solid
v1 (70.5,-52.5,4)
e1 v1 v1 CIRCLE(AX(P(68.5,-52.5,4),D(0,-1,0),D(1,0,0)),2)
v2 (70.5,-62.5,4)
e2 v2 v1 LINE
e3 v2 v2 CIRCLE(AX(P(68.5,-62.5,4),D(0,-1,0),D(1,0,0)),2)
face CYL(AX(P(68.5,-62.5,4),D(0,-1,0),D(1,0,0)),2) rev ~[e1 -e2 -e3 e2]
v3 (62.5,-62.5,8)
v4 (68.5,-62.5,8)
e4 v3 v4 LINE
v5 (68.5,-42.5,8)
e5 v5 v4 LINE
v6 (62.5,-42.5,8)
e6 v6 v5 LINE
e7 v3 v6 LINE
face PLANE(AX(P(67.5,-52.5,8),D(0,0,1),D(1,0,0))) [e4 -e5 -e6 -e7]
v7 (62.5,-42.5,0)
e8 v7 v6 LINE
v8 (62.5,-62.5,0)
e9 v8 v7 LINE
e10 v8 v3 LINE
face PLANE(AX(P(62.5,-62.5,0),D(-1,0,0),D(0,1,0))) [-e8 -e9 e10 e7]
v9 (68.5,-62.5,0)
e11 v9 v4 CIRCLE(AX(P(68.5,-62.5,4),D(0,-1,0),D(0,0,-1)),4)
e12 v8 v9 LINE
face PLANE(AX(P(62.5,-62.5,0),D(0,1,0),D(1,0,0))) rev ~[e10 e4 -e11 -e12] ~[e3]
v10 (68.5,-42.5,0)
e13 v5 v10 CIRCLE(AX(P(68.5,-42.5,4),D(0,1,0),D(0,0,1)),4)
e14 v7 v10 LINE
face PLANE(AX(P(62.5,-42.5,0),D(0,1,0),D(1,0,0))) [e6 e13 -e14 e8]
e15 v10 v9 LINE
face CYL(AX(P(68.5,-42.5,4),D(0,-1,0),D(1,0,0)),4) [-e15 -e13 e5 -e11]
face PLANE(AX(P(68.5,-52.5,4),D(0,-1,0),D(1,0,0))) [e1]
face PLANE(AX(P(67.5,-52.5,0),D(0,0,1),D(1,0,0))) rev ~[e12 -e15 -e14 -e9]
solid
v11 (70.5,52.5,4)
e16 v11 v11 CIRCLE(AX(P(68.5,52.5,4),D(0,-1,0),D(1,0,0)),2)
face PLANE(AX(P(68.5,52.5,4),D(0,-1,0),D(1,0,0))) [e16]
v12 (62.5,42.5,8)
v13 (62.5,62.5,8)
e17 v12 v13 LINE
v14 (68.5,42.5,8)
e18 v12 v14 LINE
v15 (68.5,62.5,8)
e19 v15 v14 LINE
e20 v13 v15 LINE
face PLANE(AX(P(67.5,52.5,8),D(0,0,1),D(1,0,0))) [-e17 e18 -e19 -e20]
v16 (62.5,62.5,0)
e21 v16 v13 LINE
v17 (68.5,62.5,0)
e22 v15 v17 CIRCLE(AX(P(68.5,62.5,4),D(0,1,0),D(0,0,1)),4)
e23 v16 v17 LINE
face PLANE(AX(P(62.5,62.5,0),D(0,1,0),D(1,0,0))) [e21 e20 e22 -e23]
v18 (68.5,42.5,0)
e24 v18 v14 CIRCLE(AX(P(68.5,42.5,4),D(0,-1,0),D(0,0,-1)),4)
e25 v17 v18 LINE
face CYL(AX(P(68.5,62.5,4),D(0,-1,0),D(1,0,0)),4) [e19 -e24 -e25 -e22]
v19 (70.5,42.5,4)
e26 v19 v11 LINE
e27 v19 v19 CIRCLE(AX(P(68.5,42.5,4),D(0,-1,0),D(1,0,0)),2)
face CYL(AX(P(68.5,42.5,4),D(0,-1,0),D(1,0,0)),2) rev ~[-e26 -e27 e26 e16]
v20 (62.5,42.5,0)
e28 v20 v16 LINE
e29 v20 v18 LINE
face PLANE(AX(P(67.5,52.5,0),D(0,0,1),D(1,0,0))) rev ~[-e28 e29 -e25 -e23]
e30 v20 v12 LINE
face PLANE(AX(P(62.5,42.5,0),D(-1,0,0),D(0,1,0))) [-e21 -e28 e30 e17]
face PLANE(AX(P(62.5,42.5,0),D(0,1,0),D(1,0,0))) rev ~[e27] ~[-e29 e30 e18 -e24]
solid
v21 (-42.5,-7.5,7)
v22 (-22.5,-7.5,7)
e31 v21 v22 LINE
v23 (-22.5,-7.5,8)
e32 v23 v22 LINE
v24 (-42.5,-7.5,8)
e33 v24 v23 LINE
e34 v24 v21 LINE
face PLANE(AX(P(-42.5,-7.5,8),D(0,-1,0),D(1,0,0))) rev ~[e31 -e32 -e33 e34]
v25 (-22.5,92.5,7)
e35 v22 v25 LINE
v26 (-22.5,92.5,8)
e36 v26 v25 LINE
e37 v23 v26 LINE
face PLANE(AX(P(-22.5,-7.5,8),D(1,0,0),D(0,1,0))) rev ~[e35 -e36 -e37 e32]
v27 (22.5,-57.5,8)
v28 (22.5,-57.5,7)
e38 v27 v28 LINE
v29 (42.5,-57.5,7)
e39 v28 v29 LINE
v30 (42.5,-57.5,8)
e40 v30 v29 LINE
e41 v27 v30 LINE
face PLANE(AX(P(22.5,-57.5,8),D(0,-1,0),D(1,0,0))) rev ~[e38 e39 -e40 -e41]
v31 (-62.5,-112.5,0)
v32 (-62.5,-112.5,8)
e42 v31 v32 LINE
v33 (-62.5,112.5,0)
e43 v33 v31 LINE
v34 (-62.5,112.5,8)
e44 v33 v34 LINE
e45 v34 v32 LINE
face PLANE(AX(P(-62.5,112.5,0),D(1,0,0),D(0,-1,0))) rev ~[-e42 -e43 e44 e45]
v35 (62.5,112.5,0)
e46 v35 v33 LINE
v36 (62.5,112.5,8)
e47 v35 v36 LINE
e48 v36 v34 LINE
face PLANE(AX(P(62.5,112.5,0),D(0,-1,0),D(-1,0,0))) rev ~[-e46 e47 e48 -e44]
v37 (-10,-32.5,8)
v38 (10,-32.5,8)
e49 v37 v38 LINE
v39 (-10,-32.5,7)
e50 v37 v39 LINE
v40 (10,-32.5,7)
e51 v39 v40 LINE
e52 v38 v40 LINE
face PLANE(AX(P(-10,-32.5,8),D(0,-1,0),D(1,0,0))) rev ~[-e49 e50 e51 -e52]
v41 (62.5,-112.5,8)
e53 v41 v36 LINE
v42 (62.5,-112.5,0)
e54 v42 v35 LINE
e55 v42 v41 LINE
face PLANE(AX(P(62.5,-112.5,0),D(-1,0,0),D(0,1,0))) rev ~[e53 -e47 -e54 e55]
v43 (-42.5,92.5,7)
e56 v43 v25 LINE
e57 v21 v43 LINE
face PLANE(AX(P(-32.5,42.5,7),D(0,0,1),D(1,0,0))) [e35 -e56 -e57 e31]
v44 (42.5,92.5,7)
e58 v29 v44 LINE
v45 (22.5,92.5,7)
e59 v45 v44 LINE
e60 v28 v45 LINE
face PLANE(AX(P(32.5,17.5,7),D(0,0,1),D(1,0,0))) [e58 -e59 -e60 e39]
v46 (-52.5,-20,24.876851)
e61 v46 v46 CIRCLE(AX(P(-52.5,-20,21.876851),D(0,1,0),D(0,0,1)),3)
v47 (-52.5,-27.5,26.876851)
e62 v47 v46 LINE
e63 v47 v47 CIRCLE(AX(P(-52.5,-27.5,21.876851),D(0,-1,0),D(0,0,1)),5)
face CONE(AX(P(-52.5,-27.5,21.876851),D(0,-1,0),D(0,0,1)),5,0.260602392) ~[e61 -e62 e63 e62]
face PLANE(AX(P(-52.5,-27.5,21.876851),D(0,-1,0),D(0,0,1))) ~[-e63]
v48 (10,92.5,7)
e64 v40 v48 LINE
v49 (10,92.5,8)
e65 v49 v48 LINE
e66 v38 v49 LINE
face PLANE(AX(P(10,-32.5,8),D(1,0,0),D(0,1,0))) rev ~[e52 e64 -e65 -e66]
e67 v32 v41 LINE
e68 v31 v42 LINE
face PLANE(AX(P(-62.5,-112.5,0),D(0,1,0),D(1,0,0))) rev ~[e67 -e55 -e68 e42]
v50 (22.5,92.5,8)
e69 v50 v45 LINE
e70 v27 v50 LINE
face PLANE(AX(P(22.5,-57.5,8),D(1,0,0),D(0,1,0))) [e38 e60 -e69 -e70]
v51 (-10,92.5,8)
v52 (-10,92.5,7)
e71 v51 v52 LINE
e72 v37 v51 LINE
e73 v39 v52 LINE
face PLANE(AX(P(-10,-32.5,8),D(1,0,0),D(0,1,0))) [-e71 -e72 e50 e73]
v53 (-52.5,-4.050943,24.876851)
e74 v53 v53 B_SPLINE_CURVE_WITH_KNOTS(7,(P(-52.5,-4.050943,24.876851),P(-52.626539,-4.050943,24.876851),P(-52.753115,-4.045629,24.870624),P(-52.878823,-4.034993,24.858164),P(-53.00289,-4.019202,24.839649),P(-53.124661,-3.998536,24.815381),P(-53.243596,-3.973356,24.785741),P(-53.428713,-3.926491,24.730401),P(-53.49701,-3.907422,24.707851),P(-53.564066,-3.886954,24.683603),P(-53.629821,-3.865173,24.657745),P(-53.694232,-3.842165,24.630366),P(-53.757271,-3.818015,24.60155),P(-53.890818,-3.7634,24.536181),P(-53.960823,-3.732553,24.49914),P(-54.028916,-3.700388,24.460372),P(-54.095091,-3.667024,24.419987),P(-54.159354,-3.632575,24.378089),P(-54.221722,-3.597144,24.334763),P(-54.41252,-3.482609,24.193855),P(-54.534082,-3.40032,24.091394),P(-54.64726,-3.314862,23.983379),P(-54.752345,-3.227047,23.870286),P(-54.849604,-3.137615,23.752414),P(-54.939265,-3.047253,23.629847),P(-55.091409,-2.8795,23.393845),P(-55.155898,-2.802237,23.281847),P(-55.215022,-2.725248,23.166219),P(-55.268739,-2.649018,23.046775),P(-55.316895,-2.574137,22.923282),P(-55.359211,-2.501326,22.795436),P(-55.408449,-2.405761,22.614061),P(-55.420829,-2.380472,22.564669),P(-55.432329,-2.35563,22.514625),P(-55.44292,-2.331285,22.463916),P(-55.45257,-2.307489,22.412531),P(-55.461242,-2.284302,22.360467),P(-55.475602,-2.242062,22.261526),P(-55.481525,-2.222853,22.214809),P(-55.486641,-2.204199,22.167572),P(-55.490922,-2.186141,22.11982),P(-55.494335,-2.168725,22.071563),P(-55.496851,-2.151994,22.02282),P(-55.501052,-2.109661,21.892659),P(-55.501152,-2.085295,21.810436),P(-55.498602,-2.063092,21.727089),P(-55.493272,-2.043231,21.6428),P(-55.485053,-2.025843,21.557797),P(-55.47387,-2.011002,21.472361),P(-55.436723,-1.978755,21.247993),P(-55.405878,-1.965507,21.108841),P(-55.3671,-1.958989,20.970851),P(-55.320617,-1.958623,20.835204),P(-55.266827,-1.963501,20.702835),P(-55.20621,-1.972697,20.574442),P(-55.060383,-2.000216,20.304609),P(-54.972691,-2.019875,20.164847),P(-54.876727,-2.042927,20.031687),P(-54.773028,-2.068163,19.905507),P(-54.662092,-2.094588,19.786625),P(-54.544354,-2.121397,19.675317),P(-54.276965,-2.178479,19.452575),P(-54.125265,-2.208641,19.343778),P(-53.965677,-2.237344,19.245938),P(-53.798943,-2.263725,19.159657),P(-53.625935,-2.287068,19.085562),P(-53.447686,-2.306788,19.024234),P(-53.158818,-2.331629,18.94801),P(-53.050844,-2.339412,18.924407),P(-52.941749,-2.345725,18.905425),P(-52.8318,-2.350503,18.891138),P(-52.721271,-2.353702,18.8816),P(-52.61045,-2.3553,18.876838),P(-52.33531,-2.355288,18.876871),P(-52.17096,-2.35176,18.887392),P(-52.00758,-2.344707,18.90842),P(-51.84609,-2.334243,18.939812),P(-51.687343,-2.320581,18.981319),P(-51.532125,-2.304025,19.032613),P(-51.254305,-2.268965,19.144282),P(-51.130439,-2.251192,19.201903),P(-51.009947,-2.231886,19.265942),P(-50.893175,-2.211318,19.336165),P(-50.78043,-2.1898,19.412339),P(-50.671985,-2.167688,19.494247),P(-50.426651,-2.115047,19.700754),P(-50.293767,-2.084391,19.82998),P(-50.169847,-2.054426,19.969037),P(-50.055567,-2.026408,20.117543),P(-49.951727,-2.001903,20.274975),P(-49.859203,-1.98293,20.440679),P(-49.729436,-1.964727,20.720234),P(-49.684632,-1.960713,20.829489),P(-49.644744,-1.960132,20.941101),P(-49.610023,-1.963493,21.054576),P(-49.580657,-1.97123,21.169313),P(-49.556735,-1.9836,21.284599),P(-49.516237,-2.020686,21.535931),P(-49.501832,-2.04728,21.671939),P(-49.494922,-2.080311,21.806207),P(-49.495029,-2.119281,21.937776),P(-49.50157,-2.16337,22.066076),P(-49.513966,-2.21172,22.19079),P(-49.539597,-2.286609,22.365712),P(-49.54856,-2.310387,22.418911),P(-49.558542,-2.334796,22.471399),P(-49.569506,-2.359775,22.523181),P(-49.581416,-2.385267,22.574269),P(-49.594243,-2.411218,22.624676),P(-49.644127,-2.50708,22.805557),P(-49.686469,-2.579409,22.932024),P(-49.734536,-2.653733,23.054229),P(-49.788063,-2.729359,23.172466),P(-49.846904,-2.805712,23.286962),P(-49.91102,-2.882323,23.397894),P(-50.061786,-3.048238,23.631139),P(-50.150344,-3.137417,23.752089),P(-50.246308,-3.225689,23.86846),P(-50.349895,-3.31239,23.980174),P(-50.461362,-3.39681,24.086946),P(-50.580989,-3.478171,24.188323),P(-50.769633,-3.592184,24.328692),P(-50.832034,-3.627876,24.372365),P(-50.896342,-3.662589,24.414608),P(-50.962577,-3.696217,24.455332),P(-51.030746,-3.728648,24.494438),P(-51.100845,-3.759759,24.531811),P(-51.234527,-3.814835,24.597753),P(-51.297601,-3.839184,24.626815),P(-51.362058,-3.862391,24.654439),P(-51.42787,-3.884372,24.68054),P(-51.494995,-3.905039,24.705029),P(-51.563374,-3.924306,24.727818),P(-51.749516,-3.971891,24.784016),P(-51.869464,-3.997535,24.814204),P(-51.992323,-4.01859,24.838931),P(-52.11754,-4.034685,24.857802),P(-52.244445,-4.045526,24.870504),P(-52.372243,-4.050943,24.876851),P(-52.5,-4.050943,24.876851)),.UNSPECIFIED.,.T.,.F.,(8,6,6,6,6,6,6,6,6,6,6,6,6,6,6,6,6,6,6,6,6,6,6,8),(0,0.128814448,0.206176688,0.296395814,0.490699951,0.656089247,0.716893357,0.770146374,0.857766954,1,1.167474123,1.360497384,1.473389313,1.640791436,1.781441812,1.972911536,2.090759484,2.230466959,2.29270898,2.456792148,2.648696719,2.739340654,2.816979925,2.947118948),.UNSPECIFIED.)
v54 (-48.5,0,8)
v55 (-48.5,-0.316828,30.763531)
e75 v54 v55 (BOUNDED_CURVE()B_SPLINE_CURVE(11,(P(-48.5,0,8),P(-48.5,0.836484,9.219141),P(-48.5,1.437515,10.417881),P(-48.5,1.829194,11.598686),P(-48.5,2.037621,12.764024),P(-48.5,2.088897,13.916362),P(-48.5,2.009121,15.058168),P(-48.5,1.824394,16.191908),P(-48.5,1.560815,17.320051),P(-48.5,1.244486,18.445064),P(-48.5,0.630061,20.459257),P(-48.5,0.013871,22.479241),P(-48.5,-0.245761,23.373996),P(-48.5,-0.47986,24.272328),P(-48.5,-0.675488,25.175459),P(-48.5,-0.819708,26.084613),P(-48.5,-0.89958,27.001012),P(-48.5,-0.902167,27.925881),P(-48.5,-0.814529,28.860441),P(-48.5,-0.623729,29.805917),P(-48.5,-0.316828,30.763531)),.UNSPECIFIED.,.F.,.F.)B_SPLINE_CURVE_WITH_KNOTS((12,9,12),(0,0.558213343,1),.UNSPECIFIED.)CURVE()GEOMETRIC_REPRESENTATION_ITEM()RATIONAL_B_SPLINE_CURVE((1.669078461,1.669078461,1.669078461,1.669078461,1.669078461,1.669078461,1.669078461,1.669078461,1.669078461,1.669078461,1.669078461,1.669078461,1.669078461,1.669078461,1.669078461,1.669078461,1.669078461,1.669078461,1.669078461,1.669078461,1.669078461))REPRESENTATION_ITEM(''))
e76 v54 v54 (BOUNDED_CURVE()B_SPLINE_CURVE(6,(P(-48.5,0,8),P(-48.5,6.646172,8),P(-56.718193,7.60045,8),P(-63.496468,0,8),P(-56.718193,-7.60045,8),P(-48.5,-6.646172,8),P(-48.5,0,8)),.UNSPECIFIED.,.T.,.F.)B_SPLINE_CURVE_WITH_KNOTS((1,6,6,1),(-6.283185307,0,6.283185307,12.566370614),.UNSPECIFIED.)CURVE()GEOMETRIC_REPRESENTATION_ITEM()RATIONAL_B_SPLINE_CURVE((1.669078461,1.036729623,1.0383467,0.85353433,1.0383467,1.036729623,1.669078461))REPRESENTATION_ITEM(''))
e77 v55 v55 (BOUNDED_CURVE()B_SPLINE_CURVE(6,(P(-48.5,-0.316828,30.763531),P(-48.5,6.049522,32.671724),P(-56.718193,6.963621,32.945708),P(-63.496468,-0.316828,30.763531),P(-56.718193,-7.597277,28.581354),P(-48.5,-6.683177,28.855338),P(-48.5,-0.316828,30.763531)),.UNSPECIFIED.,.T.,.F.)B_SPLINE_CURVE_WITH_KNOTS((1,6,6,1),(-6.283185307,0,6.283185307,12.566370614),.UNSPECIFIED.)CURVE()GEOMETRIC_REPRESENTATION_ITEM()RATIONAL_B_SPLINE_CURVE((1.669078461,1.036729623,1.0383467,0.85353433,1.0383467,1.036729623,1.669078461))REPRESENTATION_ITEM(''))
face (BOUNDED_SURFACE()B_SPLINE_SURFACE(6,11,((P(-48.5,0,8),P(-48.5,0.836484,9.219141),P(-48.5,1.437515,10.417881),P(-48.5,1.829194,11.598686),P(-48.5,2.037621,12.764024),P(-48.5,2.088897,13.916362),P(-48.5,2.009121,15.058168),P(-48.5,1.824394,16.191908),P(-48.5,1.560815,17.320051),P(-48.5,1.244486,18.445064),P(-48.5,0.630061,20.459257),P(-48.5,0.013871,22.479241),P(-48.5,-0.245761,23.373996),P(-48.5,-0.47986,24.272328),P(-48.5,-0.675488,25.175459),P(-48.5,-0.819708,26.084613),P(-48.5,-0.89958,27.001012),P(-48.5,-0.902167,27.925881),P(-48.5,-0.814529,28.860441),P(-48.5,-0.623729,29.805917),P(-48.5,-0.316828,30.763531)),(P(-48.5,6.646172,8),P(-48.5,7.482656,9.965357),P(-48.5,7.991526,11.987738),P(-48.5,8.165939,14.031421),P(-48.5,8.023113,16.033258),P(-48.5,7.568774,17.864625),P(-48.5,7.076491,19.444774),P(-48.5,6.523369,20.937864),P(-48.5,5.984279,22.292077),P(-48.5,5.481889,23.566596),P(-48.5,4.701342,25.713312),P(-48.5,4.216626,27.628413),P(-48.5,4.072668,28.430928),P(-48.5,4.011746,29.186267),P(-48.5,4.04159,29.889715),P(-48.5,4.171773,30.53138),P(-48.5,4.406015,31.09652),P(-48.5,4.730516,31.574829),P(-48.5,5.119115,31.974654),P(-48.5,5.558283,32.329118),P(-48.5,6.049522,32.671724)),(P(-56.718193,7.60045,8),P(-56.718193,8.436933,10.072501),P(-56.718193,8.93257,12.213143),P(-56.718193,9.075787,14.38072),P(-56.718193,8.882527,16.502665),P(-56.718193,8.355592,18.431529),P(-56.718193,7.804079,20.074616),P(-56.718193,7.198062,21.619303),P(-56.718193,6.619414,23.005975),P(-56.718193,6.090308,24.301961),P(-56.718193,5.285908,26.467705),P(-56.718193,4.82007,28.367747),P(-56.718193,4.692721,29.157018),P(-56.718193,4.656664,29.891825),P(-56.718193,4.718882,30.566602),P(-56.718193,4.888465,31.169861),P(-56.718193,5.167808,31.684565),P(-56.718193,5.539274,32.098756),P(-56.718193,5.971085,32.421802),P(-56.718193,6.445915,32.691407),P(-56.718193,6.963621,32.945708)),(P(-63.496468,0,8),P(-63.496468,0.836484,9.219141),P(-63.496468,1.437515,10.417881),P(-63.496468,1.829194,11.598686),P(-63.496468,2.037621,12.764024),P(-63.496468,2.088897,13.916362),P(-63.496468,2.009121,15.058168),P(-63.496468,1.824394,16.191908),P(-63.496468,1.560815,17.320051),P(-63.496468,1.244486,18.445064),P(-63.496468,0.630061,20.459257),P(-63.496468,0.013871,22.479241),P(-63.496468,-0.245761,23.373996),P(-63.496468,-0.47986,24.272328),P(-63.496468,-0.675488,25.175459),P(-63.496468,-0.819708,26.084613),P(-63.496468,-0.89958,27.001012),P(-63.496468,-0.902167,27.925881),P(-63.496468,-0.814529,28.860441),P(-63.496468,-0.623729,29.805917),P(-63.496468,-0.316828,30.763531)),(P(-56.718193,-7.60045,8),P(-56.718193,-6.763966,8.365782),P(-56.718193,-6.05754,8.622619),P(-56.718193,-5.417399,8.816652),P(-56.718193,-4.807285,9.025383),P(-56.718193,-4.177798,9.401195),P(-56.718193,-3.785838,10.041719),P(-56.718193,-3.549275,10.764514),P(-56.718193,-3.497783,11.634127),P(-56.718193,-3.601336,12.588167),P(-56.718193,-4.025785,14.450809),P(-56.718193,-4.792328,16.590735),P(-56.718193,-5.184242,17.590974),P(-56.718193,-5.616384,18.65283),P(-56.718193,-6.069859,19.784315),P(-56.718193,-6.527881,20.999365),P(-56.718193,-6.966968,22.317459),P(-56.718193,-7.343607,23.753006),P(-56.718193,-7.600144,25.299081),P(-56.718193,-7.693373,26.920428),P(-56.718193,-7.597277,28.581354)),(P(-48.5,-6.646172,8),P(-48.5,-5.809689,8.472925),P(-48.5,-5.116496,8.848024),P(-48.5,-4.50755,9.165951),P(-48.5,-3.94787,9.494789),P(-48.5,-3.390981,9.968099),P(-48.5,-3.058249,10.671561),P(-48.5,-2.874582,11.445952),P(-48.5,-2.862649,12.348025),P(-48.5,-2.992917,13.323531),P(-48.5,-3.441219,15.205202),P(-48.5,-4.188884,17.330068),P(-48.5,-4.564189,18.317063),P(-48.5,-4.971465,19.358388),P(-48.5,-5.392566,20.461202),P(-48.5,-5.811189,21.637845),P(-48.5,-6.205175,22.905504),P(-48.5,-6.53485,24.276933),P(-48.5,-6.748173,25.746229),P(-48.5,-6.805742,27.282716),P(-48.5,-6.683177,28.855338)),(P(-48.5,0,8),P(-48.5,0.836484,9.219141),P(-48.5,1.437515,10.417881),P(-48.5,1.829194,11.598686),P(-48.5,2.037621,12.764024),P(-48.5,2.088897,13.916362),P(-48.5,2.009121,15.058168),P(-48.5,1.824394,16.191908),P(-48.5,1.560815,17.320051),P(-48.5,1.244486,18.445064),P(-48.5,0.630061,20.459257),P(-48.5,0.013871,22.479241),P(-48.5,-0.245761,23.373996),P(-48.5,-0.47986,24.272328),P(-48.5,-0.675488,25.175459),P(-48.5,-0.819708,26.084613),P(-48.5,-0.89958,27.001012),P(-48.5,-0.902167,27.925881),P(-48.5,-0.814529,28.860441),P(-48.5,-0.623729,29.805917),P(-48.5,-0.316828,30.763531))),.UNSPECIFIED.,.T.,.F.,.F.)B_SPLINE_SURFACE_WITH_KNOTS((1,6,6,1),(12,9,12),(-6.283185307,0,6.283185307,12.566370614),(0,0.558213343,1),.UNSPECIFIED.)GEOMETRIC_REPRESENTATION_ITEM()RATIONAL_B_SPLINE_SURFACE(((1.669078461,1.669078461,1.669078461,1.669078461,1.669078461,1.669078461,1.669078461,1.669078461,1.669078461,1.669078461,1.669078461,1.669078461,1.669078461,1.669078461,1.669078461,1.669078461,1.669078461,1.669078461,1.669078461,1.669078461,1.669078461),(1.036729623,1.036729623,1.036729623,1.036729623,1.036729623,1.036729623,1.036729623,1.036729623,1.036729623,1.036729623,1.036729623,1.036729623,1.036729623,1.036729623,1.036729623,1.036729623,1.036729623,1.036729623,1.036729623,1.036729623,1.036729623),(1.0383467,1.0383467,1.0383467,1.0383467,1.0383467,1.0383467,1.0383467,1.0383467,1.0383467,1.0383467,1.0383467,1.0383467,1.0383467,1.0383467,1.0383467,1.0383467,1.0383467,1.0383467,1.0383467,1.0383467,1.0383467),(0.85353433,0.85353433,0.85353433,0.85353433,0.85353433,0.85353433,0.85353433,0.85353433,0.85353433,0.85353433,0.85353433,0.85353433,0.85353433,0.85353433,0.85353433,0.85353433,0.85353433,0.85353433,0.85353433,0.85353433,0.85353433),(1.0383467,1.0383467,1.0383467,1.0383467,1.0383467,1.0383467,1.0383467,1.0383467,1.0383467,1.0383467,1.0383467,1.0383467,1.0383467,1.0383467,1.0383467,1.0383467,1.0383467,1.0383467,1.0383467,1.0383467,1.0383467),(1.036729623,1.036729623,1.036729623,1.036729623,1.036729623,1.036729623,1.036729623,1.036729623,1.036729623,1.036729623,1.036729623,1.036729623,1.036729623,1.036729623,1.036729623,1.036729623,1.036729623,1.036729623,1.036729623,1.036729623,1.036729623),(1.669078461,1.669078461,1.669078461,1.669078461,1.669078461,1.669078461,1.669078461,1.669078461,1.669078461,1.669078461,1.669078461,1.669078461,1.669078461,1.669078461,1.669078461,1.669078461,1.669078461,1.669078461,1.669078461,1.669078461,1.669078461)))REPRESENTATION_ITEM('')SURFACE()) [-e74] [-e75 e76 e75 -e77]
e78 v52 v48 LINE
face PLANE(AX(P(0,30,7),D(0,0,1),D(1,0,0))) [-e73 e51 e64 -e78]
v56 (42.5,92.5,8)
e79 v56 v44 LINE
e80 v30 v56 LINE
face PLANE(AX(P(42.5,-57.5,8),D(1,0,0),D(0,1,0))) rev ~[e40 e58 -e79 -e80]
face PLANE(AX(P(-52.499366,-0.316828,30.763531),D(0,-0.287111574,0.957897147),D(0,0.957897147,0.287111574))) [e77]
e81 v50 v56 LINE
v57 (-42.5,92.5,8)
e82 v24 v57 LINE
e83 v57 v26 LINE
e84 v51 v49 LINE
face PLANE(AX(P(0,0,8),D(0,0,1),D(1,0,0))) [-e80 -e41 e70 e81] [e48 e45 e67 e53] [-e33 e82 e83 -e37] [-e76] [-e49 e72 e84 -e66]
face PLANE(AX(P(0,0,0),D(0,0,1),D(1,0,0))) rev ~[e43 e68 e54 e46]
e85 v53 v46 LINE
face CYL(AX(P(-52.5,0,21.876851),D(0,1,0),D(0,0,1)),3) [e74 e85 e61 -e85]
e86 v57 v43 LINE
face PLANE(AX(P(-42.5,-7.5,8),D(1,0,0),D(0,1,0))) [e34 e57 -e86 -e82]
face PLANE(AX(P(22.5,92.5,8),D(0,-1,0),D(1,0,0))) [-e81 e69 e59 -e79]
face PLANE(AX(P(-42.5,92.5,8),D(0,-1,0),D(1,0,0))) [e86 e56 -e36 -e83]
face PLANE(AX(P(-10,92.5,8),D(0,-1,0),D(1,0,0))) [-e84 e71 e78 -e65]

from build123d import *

# Parameters (mm, degrees)
SALIENTE_EXTRUIR1_DEPTH   = 8
CROQUIS17_W               = 10
CROQUIS17_H               = 20
SALIENTE_EXTRUIR3_DEPTH   = 8
SALIENTE_EXTRUIR3_2_DEPTH = 8
REDONDEO1_RADIUS          = 4
REDONDEO1_LENGTH          = 20
REDONDEO2_RADIUS          = 4
REDONDEO2_LENGTH          = 20
CROQUIS18_R               = 2
CORTAR_EXTRUIR2_DEPTH     = 10
CROQUIS19_R               = 2
CORTAR_EXTRUIR3_DEPTH     = 10
CROQUIS20_W               = 20
CROQUIS20_H               = 100
CROQUIS20_H_2             = 125
CROQUIS20_H_3             = 150
CORTAR_EXTRUIR4_DEPTH     = 1
CROQUIS22_R               = 4
CROQUIS25_R               = 3
SALIENTE_EXTRUIR4_DEPTH   = 20


with BuildPart() as part:
    # Croquis15 → Saliente-Extruir1 (new body)
    with BuildSketch(Plane.XY):
        Polygon((-62.5, -112.5), (62.5, -112.5), (62.5, -62.5), (62.5, -42.5), (62.5, 112.5), (-62.5, 112.5), align=None)
    extrude(amount=SALIENTE_EXTRUIR1_DEPTH)

    # Croquis20 → Cortar-Extruir4 (cut)
    with BuildSketch(Plane.XY.offset(8)):
        with Locations((-32.5, 42.5)):
            Rectangle(CROQUIS20_W, CROQUIS20_H)
        with Locations((0, 30)):
            Rectangle(CROQUIS20_W, CROQUIS20_H_2)
        with Locations((32.5, 17.5)):
            Rectangle(CROQUIS20_W, CROQUIS20_H_3)
    extrude(amount=-CORTAR_EXTRUIR4_DEPTH, mode=Mode.SUBTRACT)

    # Barrer1: sweep along a path in Croquis23
    with BuildLine() as barrer1_path:  # in the path sketch's own coordinates; laid on its plane below (add() does not lay a ready-made edge on the line's plane)
        add(Edge.make_bspline(
            [(8, 0), (16.008022833, 5.494506699), (22.815687146, -2.863995284), (30.763531117, -0.316827761)],
            knots=[0, 0, 0, 0, 1, 1, 1, 1], degree=3))
    # Croquis22 → Barrer1 (sweep)
    with BuildSketch(Plane.XY.offset(8)):
        with Locations((-52.5, 0)):
            Circle(CROQUIS22_R)
    sweep(path=Plane.ZY.offset(52.5) * barrer1_path.line)

    # Croquis25 → Saliente-Extruir4 (add)
    with BuildSketch(Plane(origin=(0, 0, 0), x_dir=(1, 0, 0), z_dir=(0, 1, 0))):
        with Locations(Location((-52.5, -21.876851305, 0), (0, 0, 270))):
            Circle(CROQUIS25_R)
    extrude(amount=-SALIENTE_EXTRUIR4_DEPTH)

    # Croquis26 → Revolución2 (revolve)
    with BuildSketch(Plane.ZY.offset(52.5)):
        Polygon((21.876851305, -20), (21.876851305, -27.5), (26.876851305, -27.5), (24.876851305, -20), align=None)
    revolve(axis=Axis((-52.5, -20, 21.876851305), (0, -1, 0)))


with BuildPart() as body_2:
    # Croquis17 → Saliente-Extruir3 (new body)
    with BuildSketch(Plane.XY):
        with Locations((67.5, 52.5)):
            Rectangle(CROQUIS17_W, CROQUIS17_H)
    extrude(amount=SALIENTE_EXTRUIR3_DEPTH)

    # Redondeo1: full round fillet: the end face becomes a half cylinder, R = half its width
    redondeo1_face = Plane((72.5, 52.5, 4), x_dir=(0, -1, 0), z_dir=(1, 0, 0))  # on the end face: x along it, z out of the body
    redondeo1_slab = redondeo1_face.offset(-REDONDEO1_RADIUS / 2) * Box(REDONDEO1_LENGTH, 2 * REDONDEO1_RADIUS, REDONDEO1_RADIUS, mode=Mode.PRIVATE)  # the body's end, R deep
    redondeo1_round = Plane((68.5, 52.5, 4), x_dir=(1, 0, 0), z_dir=(0, -1, 0)) * Cylinder(REDONDEO1_RADIUS, REDONDEO1_LENGTH, mode=Mode.PRIVATE)  # its axis R under the face
    add(redondeo1_slab - redondeo1_round, mode=Mode.SUBTRACT)

    # Croquis19 → Cortar-Extruir3 (cut)
    with BuildSketch(Plane.XZ.offset(-42.5)):
        with Locations((68.5, 4)):
            Circle(CROQUIS19_R)
    extrude(amount=-CORTAR_EXTRUIR3_DEPTH, mode=Mode.SUBTRACT)


with BuildPart() as body_3:
    # Croquis17 → Saliente-Extruir3 2 (new body)
    with BuildSketch(Plane.XY):
        with Locations((67.5, -52.5)):
            Rectangle(CROQUIS17_W, CROQUIS17_H)
    extrude(amount=SALIENTE_EXTRUIR3_2_DEPTH)

    # Redondeo2: full round fillet: the end face becomes a half cylinder, R = half its width
    redondeo2_face = Plane((72.5, -52.5, 4), x_dir=(0, -1, 0), z_dir=(1, 0, 0))  # on the end face: x along it, z out of the body
    redondeo2_slab = redondeo2_face.offset(-REDONDEO2_RADIUS / 2) * Box(REDONDEO2_LENGTH, 2 * REDONDEO2_RADIUS, REDONDEO2_RADIUS, mode=Mode.PRIVATE)  # the body's end, R deep
    redondeo2_round = Plane((68.5, -52.5, 4), x_dir=(1, 0, 0), z_dir=(0, -1, 0)) * Cylinder(REDONDEO2_RADIUS, REDONDEO2_LENGTH, mode=Mode.PRIVATE)  # its axis R under the face
    add(redondeo2_slab - redondeo2_round, mode=Mode.SUBTRACT)

    # Croquis18 → Cortar-Extruir2 (cut)
    with BuildSketch(Plane.XZ.offset(62.5)):
        with Locations((68.5, 4)):
            Circle(CROQUIS18_R)
    extrude(amount=-CORTAR_EXTRUIR2_DEPTH, mode=Mode.SUBTRACT)


solid = Compound([part.part, body_2.part, body_3.part])
